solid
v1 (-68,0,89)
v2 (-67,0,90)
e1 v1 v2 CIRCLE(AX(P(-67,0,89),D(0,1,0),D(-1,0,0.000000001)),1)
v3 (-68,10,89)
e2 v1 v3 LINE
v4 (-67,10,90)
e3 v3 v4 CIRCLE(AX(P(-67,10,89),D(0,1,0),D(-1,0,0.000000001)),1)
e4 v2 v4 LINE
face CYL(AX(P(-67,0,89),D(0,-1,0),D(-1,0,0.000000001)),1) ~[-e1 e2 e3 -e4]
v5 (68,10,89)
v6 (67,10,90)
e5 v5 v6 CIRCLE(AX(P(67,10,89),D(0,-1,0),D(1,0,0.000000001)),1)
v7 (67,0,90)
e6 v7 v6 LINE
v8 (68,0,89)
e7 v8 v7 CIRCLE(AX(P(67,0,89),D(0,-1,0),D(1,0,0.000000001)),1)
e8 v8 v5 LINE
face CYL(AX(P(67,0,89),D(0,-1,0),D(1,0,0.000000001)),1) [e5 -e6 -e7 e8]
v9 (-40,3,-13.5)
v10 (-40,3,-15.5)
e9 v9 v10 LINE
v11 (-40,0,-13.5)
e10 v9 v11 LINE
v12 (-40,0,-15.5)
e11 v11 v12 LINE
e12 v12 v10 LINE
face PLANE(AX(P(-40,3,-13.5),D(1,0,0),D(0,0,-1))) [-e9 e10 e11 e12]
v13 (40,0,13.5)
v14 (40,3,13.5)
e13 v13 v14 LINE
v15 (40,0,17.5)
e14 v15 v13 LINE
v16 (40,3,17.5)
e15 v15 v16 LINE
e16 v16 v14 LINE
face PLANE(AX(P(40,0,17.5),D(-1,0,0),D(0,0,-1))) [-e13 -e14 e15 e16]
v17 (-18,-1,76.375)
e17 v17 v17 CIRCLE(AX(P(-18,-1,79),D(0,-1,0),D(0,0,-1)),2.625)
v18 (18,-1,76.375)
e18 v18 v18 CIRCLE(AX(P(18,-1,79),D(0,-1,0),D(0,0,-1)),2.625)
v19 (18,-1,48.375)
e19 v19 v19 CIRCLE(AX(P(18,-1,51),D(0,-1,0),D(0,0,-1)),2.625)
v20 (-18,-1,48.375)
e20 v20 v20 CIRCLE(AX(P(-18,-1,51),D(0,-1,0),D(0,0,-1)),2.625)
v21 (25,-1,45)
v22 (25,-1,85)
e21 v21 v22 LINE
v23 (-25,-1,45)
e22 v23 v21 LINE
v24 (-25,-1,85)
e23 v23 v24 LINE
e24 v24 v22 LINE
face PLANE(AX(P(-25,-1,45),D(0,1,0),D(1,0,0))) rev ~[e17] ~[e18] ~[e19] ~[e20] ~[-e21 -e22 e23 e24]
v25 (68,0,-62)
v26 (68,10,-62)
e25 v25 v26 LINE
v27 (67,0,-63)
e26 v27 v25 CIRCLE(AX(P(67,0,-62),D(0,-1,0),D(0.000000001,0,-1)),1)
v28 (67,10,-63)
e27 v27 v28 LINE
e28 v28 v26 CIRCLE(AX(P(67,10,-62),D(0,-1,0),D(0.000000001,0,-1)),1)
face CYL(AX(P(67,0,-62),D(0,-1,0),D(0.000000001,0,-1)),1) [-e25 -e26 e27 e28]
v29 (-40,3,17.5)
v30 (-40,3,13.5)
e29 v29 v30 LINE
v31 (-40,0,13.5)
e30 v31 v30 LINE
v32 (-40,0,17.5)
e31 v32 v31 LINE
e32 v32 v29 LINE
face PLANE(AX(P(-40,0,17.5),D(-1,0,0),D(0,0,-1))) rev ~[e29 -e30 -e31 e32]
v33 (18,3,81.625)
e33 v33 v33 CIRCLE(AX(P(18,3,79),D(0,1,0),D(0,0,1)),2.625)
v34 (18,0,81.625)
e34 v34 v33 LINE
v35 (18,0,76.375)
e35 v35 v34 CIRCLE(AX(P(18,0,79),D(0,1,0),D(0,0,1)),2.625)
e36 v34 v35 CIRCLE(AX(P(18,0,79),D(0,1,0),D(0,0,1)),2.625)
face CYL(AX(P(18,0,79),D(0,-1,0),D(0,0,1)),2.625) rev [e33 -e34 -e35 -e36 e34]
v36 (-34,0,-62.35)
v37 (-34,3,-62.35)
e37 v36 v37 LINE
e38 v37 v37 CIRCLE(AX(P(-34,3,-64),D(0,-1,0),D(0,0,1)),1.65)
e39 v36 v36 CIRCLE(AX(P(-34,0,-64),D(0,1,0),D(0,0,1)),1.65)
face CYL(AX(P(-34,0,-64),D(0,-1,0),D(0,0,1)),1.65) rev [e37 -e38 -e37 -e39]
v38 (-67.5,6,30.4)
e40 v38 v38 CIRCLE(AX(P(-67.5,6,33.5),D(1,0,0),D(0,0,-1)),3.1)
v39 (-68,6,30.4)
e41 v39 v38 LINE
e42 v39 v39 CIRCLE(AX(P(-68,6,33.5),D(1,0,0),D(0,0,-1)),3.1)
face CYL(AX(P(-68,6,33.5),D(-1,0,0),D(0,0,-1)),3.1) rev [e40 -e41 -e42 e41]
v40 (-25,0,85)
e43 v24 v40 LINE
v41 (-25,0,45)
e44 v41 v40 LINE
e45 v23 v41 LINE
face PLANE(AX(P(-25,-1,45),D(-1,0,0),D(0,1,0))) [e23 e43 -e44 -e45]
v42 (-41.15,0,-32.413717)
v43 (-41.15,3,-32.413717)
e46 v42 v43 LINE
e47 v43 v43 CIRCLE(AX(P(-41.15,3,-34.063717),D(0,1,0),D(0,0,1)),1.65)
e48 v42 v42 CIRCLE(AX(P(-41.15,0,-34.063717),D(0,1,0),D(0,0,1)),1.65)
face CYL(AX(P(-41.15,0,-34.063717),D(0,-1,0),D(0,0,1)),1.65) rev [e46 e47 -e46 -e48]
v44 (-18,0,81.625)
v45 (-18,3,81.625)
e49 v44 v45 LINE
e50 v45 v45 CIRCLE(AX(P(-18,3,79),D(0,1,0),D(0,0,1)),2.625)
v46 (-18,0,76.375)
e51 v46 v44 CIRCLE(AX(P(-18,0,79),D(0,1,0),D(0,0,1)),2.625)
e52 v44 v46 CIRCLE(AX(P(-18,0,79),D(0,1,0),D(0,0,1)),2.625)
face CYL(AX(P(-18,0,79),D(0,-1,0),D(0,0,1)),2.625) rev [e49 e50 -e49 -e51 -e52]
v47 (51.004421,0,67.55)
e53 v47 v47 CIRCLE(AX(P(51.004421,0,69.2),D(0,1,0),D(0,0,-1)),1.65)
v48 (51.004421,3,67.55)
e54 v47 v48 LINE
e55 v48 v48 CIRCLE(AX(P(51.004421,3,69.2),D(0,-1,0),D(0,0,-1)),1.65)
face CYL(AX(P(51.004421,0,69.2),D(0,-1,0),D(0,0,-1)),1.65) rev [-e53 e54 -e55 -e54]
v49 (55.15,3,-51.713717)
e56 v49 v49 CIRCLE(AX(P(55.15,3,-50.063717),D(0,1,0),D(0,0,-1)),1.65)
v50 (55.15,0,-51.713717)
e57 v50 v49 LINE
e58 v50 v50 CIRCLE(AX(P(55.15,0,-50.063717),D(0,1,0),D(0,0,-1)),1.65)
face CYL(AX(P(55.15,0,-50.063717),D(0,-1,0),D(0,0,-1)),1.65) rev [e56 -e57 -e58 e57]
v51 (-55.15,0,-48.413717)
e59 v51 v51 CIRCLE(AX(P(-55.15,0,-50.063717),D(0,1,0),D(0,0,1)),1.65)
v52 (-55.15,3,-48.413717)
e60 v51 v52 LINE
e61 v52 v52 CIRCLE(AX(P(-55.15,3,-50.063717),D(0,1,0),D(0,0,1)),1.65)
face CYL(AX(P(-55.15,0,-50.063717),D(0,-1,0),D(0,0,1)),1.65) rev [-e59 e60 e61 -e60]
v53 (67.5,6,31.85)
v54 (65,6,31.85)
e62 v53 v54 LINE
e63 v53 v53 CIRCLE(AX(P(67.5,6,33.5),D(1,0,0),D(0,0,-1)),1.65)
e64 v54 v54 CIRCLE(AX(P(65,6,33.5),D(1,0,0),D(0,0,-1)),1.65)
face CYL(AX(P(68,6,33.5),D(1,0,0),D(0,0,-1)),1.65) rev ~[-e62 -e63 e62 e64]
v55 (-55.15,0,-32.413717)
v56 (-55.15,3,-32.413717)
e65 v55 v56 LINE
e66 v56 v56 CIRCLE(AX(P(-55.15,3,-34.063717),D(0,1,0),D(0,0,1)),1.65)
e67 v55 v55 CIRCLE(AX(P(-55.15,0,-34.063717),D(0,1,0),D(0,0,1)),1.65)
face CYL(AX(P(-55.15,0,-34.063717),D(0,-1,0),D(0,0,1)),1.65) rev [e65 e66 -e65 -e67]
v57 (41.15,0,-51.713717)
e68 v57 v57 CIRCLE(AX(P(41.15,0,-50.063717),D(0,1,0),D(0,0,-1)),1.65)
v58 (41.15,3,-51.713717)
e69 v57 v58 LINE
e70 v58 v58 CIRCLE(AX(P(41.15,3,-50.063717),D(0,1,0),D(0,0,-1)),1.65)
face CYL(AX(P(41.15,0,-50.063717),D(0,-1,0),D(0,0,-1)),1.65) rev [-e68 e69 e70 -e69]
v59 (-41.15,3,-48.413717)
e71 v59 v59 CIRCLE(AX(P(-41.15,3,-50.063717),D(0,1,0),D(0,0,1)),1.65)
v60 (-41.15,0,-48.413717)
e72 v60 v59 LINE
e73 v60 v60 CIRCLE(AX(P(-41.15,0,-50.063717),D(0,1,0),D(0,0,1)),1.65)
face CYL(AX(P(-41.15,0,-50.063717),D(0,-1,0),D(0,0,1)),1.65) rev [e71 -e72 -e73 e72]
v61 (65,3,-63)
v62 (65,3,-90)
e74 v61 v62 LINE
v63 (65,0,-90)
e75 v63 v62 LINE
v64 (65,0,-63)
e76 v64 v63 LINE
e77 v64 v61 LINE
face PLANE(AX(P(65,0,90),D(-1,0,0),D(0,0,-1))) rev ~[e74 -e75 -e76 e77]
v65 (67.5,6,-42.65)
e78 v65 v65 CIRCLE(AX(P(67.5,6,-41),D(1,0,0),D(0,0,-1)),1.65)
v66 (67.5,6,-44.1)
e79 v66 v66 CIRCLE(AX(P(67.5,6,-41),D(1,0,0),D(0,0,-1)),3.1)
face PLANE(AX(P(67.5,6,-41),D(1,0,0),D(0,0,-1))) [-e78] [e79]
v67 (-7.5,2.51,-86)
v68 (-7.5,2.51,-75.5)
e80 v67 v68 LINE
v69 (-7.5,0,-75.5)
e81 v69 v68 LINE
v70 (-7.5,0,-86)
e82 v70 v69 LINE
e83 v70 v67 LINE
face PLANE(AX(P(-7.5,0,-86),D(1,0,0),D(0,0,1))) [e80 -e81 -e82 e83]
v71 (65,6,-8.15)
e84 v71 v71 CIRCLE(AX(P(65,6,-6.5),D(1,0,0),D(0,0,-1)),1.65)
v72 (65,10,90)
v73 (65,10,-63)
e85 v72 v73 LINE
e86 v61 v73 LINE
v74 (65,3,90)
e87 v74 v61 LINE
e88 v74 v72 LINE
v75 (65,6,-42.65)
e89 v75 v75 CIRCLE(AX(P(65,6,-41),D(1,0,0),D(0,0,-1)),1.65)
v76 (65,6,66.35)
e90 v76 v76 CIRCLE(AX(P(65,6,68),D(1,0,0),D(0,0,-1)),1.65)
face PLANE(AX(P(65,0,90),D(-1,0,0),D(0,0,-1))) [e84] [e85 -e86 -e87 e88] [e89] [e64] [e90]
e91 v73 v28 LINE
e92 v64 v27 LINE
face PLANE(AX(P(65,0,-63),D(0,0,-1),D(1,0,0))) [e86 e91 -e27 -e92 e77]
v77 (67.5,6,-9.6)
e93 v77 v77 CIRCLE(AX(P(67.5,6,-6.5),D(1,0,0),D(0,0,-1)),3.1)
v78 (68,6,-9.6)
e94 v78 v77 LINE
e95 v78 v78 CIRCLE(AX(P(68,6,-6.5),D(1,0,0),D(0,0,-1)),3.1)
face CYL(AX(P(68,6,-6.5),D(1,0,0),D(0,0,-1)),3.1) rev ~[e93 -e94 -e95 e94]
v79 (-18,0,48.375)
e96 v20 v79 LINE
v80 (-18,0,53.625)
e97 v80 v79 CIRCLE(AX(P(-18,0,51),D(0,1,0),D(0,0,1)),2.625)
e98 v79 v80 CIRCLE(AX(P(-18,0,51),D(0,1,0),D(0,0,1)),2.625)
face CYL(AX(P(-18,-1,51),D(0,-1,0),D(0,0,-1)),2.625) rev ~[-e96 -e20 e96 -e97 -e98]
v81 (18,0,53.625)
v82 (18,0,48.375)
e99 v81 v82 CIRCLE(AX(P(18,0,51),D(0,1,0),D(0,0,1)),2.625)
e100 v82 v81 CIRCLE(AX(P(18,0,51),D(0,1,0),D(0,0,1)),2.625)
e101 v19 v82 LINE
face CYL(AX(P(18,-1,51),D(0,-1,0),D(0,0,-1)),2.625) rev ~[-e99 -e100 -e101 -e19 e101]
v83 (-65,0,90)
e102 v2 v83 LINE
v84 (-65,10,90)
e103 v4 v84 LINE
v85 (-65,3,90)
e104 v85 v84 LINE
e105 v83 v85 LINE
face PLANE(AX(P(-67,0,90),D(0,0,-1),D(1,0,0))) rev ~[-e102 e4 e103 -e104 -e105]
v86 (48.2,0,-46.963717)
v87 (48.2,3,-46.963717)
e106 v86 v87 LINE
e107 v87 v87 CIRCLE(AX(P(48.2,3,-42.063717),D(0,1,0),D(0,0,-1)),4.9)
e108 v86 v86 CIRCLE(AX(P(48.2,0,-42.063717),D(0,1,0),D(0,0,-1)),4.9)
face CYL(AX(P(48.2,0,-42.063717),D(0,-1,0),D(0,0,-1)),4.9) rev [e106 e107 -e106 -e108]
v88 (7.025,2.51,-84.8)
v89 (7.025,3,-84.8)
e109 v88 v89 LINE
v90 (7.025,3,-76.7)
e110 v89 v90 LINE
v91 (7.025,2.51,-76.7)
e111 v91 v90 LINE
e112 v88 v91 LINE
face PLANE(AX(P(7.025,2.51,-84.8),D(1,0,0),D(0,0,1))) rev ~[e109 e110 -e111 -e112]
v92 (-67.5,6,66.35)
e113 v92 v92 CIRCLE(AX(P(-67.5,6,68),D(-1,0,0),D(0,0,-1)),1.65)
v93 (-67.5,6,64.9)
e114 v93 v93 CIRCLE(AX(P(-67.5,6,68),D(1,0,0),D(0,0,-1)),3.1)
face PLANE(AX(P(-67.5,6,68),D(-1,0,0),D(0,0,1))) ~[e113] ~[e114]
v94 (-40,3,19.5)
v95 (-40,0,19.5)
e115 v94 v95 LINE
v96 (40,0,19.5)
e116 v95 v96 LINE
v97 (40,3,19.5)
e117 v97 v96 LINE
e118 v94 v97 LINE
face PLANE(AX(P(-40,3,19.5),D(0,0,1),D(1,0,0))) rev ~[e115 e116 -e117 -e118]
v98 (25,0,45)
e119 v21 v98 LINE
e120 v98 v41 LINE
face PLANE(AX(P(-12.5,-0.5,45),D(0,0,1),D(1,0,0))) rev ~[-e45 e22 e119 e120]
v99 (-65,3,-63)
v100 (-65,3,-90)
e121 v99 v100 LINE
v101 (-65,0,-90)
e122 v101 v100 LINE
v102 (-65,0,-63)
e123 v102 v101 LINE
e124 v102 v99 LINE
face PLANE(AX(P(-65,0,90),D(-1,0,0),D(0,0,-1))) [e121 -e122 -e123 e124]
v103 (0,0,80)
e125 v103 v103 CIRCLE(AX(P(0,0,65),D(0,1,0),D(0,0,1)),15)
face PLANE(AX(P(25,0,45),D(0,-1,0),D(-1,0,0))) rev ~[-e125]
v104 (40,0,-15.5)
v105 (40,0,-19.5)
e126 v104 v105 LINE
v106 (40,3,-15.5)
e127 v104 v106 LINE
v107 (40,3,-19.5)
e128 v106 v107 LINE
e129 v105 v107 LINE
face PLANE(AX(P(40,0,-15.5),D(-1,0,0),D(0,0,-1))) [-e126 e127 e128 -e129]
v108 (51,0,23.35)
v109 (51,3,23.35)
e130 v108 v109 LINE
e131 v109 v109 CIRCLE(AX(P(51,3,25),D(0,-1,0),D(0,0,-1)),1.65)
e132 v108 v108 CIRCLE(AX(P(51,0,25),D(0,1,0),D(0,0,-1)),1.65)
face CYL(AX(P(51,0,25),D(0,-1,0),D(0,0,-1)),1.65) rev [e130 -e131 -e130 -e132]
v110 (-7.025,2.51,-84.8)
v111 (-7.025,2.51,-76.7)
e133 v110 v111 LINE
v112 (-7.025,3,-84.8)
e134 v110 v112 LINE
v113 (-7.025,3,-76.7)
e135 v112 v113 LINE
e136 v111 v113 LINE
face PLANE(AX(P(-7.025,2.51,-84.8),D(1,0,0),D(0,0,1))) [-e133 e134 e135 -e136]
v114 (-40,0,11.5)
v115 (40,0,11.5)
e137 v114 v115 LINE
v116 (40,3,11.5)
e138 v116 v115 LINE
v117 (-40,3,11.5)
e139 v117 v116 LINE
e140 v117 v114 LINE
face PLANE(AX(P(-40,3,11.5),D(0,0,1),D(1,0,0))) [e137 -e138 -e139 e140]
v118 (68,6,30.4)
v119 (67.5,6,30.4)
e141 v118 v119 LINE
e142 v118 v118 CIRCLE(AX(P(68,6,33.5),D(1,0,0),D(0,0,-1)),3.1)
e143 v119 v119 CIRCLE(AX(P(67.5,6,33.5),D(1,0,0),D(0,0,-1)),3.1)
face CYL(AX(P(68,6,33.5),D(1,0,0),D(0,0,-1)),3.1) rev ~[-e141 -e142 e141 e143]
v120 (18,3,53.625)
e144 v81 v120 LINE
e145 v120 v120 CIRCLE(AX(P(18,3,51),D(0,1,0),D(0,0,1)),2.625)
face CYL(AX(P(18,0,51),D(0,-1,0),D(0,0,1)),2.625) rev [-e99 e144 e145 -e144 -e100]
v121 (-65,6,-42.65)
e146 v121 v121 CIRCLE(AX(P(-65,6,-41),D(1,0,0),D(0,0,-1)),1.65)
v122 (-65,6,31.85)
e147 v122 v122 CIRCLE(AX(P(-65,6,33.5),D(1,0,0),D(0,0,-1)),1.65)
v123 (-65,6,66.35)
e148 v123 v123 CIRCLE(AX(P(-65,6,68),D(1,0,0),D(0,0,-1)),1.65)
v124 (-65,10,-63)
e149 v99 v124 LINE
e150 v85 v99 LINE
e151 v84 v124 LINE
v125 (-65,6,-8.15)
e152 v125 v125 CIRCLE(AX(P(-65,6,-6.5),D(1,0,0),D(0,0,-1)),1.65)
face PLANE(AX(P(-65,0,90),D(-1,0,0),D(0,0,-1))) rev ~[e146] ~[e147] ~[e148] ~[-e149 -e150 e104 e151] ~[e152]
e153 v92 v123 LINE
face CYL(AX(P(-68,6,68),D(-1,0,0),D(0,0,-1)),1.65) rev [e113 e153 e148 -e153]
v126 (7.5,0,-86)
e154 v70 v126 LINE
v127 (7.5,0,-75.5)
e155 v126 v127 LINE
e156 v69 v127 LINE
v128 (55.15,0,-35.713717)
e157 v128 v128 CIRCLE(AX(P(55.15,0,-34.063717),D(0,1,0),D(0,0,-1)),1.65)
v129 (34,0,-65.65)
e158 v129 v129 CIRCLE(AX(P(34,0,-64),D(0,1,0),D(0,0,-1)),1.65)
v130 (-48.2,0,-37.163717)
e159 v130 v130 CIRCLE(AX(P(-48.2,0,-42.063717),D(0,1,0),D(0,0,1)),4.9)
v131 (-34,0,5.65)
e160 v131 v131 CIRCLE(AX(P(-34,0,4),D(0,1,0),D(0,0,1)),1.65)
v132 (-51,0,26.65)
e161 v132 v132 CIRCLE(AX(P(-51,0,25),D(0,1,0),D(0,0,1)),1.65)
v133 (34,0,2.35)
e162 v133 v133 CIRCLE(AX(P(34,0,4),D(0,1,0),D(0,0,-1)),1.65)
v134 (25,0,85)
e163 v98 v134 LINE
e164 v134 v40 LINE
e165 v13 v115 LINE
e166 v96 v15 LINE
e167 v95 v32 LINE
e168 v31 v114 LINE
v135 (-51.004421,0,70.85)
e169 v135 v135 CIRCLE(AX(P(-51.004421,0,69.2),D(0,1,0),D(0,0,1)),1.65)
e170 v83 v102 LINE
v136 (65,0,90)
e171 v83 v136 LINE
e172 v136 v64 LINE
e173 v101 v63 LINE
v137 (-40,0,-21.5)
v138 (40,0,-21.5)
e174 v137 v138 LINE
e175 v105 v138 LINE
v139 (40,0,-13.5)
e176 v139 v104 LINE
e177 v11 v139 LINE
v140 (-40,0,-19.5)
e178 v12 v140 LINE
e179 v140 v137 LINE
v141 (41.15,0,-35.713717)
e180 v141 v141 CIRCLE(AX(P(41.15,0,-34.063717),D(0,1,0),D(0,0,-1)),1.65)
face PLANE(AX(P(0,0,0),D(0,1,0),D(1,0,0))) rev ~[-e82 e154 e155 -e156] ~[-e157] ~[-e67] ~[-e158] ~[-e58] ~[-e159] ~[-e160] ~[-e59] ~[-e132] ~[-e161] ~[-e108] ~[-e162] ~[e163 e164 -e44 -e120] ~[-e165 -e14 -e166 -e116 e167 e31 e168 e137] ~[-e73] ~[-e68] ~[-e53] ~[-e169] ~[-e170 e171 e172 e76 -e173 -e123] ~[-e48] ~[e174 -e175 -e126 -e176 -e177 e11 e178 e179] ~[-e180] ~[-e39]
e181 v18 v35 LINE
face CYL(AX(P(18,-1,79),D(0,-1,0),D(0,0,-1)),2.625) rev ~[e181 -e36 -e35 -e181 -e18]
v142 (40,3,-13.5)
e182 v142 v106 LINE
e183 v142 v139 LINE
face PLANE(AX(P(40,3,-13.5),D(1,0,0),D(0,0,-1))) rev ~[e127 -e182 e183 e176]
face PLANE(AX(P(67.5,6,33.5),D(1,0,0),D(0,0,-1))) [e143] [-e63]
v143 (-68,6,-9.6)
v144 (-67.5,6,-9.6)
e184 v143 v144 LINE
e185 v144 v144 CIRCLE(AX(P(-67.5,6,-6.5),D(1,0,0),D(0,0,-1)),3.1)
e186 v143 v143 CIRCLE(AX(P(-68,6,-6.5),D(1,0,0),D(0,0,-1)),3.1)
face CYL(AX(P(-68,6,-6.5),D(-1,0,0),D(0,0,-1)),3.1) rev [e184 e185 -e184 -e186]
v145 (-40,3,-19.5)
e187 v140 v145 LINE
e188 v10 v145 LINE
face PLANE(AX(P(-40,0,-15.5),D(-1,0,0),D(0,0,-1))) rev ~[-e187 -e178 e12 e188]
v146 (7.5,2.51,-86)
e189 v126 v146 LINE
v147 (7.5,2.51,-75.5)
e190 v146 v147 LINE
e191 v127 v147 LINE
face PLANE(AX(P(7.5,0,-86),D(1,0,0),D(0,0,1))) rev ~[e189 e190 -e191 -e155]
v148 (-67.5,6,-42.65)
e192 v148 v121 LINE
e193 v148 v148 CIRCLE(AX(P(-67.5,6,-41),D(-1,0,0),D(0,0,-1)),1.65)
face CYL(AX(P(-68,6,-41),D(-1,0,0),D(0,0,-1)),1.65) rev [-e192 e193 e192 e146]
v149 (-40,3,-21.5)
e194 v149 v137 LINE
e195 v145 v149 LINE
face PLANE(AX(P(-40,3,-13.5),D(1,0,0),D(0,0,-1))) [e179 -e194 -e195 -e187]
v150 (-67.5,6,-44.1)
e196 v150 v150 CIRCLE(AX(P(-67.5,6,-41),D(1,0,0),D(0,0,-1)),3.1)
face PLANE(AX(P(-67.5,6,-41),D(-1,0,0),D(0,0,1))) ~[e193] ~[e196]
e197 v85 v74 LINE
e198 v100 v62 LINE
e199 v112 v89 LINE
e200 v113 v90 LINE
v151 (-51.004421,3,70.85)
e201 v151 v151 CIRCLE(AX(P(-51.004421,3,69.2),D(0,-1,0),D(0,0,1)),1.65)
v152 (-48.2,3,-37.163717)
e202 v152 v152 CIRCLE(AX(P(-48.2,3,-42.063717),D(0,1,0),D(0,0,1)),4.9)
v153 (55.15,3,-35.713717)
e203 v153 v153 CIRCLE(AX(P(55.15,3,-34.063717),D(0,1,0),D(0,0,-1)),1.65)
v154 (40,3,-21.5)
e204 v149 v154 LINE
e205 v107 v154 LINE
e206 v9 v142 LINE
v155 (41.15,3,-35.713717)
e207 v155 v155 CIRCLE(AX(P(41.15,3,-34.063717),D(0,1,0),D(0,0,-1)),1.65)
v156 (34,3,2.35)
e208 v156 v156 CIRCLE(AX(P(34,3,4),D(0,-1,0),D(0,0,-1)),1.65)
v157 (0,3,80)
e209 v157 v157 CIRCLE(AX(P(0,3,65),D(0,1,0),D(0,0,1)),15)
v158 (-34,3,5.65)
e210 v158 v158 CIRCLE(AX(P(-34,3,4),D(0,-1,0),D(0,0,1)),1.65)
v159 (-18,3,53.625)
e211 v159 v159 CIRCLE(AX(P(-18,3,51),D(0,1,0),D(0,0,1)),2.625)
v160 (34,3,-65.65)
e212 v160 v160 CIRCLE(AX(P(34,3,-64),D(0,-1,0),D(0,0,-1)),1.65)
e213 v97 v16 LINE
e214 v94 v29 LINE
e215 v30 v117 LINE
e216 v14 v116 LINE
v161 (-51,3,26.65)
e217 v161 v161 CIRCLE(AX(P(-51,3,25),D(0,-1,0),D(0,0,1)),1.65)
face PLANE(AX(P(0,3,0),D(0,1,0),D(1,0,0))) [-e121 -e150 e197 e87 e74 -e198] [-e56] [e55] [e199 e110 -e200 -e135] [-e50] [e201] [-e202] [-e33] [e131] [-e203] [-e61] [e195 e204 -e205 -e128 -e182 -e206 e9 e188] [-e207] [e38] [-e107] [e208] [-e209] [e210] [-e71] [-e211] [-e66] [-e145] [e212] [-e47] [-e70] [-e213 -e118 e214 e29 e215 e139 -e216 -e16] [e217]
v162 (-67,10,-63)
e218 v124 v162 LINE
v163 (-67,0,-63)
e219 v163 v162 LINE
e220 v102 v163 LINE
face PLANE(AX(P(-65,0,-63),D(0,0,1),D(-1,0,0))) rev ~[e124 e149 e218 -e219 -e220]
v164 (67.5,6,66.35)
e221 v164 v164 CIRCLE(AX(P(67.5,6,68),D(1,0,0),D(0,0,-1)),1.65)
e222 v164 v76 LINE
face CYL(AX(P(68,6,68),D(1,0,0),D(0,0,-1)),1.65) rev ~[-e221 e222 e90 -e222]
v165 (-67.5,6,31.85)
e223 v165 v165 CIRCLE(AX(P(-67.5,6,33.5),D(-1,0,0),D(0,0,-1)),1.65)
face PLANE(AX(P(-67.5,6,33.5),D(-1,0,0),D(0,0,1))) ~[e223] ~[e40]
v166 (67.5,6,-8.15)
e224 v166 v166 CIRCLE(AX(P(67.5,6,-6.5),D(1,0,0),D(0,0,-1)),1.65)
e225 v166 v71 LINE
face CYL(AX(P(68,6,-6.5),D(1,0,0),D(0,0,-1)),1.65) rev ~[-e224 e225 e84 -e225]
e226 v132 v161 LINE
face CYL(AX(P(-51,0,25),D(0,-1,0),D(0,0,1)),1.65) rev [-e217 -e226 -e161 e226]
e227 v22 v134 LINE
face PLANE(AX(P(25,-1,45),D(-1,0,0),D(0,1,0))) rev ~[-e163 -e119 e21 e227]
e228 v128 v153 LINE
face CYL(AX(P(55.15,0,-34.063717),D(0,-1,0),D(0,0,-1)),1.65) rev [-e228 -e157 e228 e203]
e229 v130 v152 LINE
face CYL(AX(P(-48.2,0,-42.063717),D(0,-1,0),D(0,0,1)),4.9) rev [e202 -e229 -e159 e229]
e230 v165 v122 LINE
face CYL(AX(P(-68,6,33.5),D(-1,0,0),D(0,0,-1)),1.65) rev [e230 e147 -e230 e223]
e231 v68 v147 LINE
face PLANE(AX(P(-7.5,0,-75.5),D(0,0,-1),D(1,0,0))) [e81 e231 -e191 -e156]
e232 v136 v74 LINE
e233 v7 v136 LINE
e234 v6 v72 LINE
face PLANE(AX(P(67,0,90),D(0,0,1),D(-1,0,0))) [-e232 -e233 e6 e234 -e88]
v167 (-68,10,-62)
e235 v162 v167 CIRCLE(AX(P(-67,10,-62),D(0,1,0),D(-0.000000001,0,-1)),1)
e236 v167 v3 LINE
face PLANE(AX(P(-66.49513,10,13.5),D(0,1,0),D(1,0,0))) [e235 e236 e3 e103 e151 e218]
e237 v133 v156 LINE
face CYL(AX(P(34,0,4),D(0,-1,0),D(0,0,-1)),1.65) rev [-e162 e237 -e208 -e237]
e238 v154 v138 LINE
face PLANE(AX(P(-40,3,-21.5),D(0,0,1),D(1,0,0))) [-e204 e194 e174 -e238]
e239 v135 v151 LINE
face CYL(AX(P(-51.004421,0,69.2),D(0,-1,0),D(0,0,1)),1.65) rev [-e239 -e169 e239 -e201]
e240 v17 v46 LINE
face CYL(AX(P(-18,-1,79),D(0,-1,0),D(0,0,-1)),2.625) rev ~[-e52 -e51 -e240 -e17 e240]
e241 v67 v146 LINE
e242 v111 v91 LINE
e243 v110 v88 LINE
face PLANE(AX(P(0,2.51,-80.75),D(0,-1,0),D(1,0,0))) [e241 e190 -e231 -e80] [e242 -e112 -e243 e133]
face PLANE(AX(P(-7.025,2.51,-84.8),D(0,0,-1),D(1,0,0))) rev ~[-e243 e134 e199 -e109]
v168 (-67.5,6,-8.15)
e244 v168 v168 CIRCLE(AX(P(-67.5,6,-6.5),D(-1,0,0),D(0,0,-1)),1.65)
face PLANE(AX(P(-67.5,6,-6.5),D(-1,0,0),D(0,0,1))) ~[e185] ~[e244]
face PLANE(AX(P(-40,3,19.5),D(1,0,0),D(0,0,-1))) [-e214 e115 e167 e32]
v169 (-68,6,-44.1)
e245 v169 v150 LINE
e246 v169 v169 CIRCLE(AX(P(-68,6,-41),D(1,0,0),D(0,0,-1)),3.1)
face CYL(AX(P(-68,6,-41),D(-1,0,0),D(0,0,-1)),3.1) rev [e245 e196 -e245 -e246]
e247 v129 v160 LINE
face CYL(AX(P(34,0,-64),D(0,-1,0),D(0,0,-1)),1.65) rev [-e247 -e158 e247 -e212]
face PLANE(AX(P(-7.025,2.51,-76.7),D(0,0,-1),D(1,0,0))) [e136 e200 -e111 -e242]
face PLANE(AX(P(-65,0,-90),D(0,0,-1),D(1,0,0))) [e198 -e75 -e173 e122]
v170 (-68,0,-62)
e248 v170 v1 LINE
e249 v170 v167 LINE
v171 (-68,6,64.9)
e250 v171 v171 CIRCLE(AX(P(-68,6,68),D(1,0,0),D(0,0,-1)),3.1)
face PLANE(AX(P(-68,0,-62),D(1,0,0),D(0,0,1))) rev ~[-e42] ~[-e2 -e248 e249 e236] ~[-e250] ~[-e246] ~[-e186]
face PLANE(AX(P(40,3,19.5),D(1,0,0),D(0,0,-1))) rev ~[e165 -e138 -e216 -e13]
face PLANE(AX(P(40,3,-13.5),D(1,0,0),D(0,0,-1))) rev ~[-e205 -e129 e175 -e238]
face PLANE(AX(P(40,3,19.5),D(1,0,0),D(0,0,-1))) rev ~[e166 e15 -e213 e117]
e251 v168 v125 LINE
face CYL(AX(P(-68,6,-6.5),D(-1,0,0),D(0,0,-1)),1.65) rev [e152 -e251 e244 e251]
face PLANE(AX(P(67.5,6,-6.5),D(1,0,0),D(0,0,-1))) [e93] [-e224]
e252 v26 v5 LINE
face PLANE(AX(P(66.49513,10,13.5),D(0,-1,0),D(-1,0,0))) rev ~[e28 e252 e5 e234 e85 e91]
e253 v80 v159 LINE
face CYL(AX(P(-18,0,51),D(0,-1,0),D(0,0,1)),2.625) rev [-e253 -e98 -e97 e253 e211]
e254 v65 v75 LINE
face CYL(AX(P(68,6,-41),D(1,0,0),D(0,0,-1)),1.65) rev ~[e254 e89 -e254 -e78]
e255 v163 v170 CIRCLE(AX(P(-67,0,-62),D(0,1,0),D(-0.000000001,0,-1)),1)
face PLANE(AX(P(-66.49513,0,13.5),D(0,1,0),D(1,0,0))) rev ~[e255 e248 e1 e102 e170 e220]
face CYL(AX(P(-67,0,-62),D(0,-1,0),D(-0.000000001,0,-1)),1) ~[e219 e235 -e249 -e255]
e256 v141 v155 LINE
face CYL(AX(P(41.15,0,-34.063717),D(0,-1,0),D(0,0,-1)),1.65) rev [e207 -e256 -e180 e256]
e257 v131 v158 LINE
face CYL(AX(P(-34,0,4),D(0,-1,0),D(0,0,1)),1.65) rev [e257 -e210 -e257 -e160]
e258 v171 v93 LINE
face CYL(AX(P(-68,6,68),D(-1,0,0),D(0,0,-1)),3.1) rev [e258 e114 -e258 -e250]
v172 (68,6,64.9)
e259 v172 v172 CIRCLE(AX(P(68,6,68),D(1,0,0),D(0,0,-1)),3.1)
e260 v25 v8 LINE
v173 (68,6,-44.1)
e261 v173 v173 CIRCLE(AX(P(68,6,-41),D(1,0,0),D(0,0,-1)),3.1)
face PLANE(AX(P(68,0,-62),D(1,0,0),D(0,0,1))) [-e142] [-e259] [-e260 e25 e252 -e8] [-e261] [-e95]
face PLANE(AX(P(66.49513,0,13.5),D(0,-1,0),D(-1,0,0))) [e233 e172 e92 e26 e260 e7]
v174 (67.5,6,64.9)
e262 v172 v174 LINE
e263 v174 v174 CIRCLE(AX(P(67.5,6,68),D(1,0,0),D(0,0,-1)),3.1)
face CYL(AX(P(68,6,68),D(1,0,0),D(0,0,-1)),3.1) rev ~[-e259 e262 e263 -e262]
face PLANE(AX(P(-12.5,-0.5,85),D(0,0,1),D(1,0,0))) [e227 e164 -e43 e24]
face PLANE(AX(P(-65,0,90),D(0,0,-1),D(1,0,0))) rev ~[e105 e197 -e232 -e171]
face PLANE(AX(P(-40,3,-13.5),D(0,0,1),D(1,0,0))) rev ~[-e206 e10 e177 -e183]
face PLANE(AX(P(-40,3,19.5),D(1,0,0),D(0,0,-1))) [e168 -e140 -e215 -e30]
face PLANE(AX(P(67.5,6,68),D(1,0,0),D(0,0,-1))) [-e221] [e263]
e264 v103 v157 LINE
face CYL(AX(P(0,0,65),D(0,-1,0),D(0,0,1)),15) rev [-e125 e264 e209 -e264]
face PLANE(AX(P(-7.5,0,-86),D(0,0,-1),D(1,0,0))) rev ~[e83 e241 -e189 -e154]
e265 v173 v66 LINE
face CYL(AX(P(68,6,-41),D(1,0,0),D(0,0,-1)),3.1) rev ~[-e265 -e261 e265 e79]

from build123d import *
from build123d.topology import SkipClean

# Parameters (mm, degrees)
SKETCH_1_W          = 130
SKETCH_1_H          = 180
SKETCH_1_R          = 1.65
SKETCH_1_R_2        = 4.9
SKETCH_1_R_3        = 2.625
SKETCH_1_R_4        = 15
SKETCH_1_W_2        = 80
SKETCH_1_H_2        = 4
EXTRUDE_1_DEPTH     = 3
SKETCH_3_R          = 1.65
CUT_EXTRUDE_2_DEPTH = 112.05854312
SKETCH_4_W          = 15
SKETCH_4_H          = 10.5
CUT_EXTRUDE_3_DEPTH = 2.51
SKETCH_5_W          = 14.05
SKETCH_5_H          = 8.1
CUT_EXTRUDE_4_DEPTH = 0.49
EXTRUDE_START       = 45
SKETCH_6_W          = 25
SKETCH_6_H          = 1
EXTRUDE_2_DEPTH     = 40
SKETCH_9_R          = 2.625
CUT_EXTRUDE_5_DEPTH = 1
EXTRUDE_START_2     = -3
EXTRUDE_3_DEPTH     = 10
SKETCH_11_R         = 1.65
CUT_EXTRUDE_6_DEPTH = 133
SKETCH_12_R         = 3.1
CUT_EXTRUDE_7_DEPTH = 0.5
SKETCH_13_W         = 80
SKETCH_13_H         = 8
CUT_EXTRUDE_8_DEPTH = 3


with BuildPart() as part:
    # 草图1 → 凸台-拉伸1 (new body)
    with BuildSketch(Plane(origin=(0, 0, 0), x_dir=(1, 0, 0), z_dir=(0, 1, 0))):
        Rectangle(SKETCH_1_W, SKETCH_1_H)
        with Locations(Location((41.15, 34.063716669, 0), (0, 0, 90))):
            Circle(SKETCH_1_R, mode=Mode.SUBTRACT)
        with Locations(Location((55.15, 34.063716669, 0), (0, 0, 90))):
            Circle(SKETCH_1_R, mode=Mode.SUBTRACT)
        with Locations(Location((48.2, 42.063716669, 0), (0, 0, 90))):
            Circle(SKETCH_1_R_2, mode=Mode.SUBTRACT)
        with Locations(Location((41.15, 50.063716669, 0), (0, 0, 90))):
            Circle(SKETCH_1_R, mode=Mode.SUBTRACT)
        with Locations(Location((55.15, 50.063716669, 0), (0, 0, 90))):
            Circle(SKETCH_1_R, mode=Mode.SUBTRACT)
        with Locations(Location((-18, -51, 0), (0, 0, 270))):
            Circle(SKETCH_1_R_3, mode=Mode.SUBTRACT)
        with Locations(Location((18, -51, 0), (0, 0, 270))):
            Circle(SKETCH_1_R_3, mode=Mode.SUBTRACT)
        with Locations(Location((18, -79, 0), (0, 0, 270))):
            Circle(SKETCH_1_R_3, mode=Mode.SUBTRACT)
        with Locations(Location((-18, -79, 0), (0, 0, 270))):
            Circle(SKETCH_1_R_3, mode=Mode.SUBTRACT)
        with Locations(Location((0, -65, 0), (0, 0, 270))):
            Circle(SKETCH_1_R_4, mode=Mode.SUBTRACT)
        with Locations(Location((-41.15, 34.063716669, 0), (0, 0, 270))):
            Circle(SKETCH_1_R, mode=Mode.SUBTRACT)
        with Locations(Location((-55.15, 34.063716669, 0), (0, 0, 270))):
            Circle(SKETCH_1_R, mode=Mode.SUBTRACT)
        with Locations(Location((-55.15, 50.063716669, 0), (0, 0, 270))):
            Circle(SKETCH_1_R, mode=Mode.SUBTRACT)
        with Locations(Location((-48.2, 42.063716669, 0), (0, 0, 270))):
            Circle(SKETCH_1_R_2, mode=Mode.SUBTRACT)
        with Locations(Location((-41.15, 50.063716669, 0), (0, 0, 270))):
            Circle(SKETCH_1_R, mode=Mode.SUBTRACT)
        with Locations((0, -15.5)):
            Rectangle(SKETCH_1_W_2, SKETCH_1_H_2, mode=Mode.SUBTRACT)
        with Locations((0, 17.5)):
            Rectangle(SKETCH_1_W_2, SKETCH_1_H_2, mode=Mode.SUBTRACT)
    extrude(amount=EXTRUDE_1_DEPTH)

    # 草图3 → 切除-拉伸2 (cut, through all)
    with BuildSketch(Plane(origin=(0, 0, 0), x_dir=(1, 0, 0), z_dir=(0, 1, 0))):
        with Locations(Location((-34, 64, 0), (0, 0, 270))):
            Circle(SKETCH_3_R)
        with Locations(Location((-34, -4, 0), (0, 0, 270))):
            Circle(SKETCH_3_R)
        with Locations(Location((34, -4, 0), (0, 0, 90))):
            Circle(SKETCH_3_R)
        with Locations(Location((34, 64, 0), (0, 0, 90))):
            Circle(SKETCH_3_R)
        with Locations(Location((-51, -25, 0), (0, 0, 270))):
            Circle(SKETCH_3_R)
        with Locations(Location((-51.004420949, -69.2, 0), (0, 0, 270))):
            Circle(SKETCH_3_R)
        with Locations(Location((51.004420949, -69.2, 0), (0, 0, 90))):
            Circle(SKETCH_3_R)
        with Locations(Location((51, -25, 0), (0, 0, 90))):
            Circle(SKETCH_3_R)
    extrude(amount=CUT_EXTRUDE_2_DEPTH, mode=Mode.SUBTRACT)

    # 草图4 → 切除-拉伸3 (cut)
    with BuildSketch(Plane.XZ):
        with Locations((0, -80.75)):
            Rectangle(SKETCH_4_W, SKETCH_4_H)
    extrude(amount=-CUT_EXTRUDE_3_DEPTH, mode=Mode.SUBTRACT)

    # 草图5 → 切除-拉伸4 (cut)
    with BuildSketch(Plane.XZ.offset(-2.51)):
        with Locations((0, -80.75)):
            Rectangle(SKETCH_5_W, SKETCH_5_H)
    extrude(amount=-CUT_EXTRUDE_4_DEPTH, mode=Mode.SUBTRACT)

    # 草图6 → 凸台-拉伸2 (add)
    with BuildSketch(Plane.XY.offset(EXTRUDE_START)):
        with Locations((-12.5, -0.5)):
            Rectangle(SKETCH_6_W, SKETCH_6_H)
        with Locations((12.5, -0.5)):
            Rectangle(SKETCH_6_W, SKETCH_6_H)
    extrude(amount=EXTRUDE_2_DEPTH)

    # 草图9 → 切除-拉伸5 (cut)
    with SkipClean():  # the faces are left unmerged after this step: merging them gives an invalid solid
        with BuildSketch(Plane.XZ.offset(1)):
            with Locations(Location((-18, 51, 0), (0, 0, 270))):
                Circle(SKETCH_9_R)
            with Locations(Location((18, 51, 0), (0, 0, 270))):
                Circle(SKETCH_9_R)
            with Locations(Location((-18, 79, 0), (0, 0, 270))):
                Circle(SKETCH_9_R)
            with Locations(Location((18, 79, 0), (0, 0, 270))):
                Circle(SKETCH_9_R)
        extrude(amount=-CUT_EXTRUDE_5_DEPTH, mode=Mode.SUBTRACT)

    # 草图10 → 凸台-拉伸3 (add)
    with SkipClean():  # the faces are left unmerged after this step: merging them gives an invalid solid
        with BuildSketch(Plane(origin=(0, 3, 0), x_dir=(1, 0, 0), z_dir=(0, 1, 0)).offset(EXTRUDE_START_2)):
            with BuildLine():
                Line((-65, 63), (-67, 63))
                ThreePointArc((-67, 63), (-67.707106781, 62.707106781), (-68, 62))
                Line((-68, 62), (-68, -89))
                ThreePointArc((-68, -89), (-67.707106781, -89.707106781), (-67, -90))
                Line((-67, -90), (-65, -90))
                Line((-65, -90), (-65, 63))
            make_face()
            with BuildLine():
                Line((65, -90), (65, 63))
                Line((65, 63), (67, 63))
                ThreePointArc((67, 63), (67.707106781, 62.707106781), (68, 62))
                Line((68, 62), (68, -89))
                ThreePointArc((68, -89), (67.707106781, -89.707106781), (67, -90))
                Line((67, -90), (65, -90))
            make_face()
        extrude(amount=EXTRUDE_3_DEPTH)

    # 草图11 → 切除-拉伸6 (cut)
    with SkipClean():  # the faces are left unmerged after this step: merging them gives an invalid solid
        with BuildSketch(Plane(origin=(68, 0, 0), x_dir=(0, 0, -1), z_dir=(1, 0, 0))):
            with Locations((-33.5, 6)):
                Circle(SKETCH_11_R)
            with Locations((-68, 6)):
                Circle(SKETCH_11_R)
            with Locations((6.5, 6)):
                Circle(SKETCH_11_R)
            with Locations((41, 6)):
                Circle(SKETCH_11_R)
        cut_extrude_6 = extrude(amount=-CUT_EXTRUDE_6_DEPTH, mode=Mode.SUBTRACT)

    # 镜向1: 切除-拉伸6 across plane
    with SkipClean():  # the faces are left unmerged after this step: merging them gives an invalid solid
        add(cut_extrude_6.mirror(Plane(origin=(0, 0, 0), x_dir=(0, 0, 1), z_dir=(1, 0, 0))), mode=Mode.SUBTRACT)

    # 草图12 → 切除-拉伸7 (cut)
    with SkipClean():  # the faces are left unmerged after this step: merging them gives an invalid solid
        with BuildSketch(Plane(origin=(68, 0, 0), x_dir=(0, 0, -1), z_dir=(1, 0, 0))):
            with Locations((-68, 6)):
                Circle(SKETCH_12_R)
            with Locations((-33.5, 6)):
                Circle(SKETCH_12_R)
            with Locations((6.5, 6)):
                Circle(SKETCH_12_R)
            with Locations((41, 6)):
                Circle(SKETCH_12_R)
        cut_extrude_7 = extrude(amount=-CUT_EXTRUDE_7_DEPTH, mode=Mode.SUBTRACT)

    # 镜向3: 切除-拉伸7 across plane
    with SkipClean():  # the faces are left unmerged after this step: merging them gives an invalid solid
        add(cut_extrude_7.mirror(Plane(origin=(0, 0, 0), x_dir=(0, 0, 1), z_dir=(1, 0, 0))), mode=Mode.SUBTRACT)

    # 草图13 → 切除-拉伸8 (cut)
    with SkipClean():  # the faces are left unmerged after this step: merging them gives an invalid solid
        with BuildSketch(Plane(origin=(0, 3, 0), x_dir=(1, 0, 0), z_dir=(0, 1, 0))):
            with Locations((0, -15.5)):
                Rectangle(SKETCH_13_W, SKETCH_13_H)
            with Locations((0, 17.5)):
                Rectangle(SKETCH_13_W, SKETCH_13_H)
        extrude(amount=-CUT_EXTRUDE_8_DEPTH, mode=Mode.SUBTRACT)


solid = part.part
